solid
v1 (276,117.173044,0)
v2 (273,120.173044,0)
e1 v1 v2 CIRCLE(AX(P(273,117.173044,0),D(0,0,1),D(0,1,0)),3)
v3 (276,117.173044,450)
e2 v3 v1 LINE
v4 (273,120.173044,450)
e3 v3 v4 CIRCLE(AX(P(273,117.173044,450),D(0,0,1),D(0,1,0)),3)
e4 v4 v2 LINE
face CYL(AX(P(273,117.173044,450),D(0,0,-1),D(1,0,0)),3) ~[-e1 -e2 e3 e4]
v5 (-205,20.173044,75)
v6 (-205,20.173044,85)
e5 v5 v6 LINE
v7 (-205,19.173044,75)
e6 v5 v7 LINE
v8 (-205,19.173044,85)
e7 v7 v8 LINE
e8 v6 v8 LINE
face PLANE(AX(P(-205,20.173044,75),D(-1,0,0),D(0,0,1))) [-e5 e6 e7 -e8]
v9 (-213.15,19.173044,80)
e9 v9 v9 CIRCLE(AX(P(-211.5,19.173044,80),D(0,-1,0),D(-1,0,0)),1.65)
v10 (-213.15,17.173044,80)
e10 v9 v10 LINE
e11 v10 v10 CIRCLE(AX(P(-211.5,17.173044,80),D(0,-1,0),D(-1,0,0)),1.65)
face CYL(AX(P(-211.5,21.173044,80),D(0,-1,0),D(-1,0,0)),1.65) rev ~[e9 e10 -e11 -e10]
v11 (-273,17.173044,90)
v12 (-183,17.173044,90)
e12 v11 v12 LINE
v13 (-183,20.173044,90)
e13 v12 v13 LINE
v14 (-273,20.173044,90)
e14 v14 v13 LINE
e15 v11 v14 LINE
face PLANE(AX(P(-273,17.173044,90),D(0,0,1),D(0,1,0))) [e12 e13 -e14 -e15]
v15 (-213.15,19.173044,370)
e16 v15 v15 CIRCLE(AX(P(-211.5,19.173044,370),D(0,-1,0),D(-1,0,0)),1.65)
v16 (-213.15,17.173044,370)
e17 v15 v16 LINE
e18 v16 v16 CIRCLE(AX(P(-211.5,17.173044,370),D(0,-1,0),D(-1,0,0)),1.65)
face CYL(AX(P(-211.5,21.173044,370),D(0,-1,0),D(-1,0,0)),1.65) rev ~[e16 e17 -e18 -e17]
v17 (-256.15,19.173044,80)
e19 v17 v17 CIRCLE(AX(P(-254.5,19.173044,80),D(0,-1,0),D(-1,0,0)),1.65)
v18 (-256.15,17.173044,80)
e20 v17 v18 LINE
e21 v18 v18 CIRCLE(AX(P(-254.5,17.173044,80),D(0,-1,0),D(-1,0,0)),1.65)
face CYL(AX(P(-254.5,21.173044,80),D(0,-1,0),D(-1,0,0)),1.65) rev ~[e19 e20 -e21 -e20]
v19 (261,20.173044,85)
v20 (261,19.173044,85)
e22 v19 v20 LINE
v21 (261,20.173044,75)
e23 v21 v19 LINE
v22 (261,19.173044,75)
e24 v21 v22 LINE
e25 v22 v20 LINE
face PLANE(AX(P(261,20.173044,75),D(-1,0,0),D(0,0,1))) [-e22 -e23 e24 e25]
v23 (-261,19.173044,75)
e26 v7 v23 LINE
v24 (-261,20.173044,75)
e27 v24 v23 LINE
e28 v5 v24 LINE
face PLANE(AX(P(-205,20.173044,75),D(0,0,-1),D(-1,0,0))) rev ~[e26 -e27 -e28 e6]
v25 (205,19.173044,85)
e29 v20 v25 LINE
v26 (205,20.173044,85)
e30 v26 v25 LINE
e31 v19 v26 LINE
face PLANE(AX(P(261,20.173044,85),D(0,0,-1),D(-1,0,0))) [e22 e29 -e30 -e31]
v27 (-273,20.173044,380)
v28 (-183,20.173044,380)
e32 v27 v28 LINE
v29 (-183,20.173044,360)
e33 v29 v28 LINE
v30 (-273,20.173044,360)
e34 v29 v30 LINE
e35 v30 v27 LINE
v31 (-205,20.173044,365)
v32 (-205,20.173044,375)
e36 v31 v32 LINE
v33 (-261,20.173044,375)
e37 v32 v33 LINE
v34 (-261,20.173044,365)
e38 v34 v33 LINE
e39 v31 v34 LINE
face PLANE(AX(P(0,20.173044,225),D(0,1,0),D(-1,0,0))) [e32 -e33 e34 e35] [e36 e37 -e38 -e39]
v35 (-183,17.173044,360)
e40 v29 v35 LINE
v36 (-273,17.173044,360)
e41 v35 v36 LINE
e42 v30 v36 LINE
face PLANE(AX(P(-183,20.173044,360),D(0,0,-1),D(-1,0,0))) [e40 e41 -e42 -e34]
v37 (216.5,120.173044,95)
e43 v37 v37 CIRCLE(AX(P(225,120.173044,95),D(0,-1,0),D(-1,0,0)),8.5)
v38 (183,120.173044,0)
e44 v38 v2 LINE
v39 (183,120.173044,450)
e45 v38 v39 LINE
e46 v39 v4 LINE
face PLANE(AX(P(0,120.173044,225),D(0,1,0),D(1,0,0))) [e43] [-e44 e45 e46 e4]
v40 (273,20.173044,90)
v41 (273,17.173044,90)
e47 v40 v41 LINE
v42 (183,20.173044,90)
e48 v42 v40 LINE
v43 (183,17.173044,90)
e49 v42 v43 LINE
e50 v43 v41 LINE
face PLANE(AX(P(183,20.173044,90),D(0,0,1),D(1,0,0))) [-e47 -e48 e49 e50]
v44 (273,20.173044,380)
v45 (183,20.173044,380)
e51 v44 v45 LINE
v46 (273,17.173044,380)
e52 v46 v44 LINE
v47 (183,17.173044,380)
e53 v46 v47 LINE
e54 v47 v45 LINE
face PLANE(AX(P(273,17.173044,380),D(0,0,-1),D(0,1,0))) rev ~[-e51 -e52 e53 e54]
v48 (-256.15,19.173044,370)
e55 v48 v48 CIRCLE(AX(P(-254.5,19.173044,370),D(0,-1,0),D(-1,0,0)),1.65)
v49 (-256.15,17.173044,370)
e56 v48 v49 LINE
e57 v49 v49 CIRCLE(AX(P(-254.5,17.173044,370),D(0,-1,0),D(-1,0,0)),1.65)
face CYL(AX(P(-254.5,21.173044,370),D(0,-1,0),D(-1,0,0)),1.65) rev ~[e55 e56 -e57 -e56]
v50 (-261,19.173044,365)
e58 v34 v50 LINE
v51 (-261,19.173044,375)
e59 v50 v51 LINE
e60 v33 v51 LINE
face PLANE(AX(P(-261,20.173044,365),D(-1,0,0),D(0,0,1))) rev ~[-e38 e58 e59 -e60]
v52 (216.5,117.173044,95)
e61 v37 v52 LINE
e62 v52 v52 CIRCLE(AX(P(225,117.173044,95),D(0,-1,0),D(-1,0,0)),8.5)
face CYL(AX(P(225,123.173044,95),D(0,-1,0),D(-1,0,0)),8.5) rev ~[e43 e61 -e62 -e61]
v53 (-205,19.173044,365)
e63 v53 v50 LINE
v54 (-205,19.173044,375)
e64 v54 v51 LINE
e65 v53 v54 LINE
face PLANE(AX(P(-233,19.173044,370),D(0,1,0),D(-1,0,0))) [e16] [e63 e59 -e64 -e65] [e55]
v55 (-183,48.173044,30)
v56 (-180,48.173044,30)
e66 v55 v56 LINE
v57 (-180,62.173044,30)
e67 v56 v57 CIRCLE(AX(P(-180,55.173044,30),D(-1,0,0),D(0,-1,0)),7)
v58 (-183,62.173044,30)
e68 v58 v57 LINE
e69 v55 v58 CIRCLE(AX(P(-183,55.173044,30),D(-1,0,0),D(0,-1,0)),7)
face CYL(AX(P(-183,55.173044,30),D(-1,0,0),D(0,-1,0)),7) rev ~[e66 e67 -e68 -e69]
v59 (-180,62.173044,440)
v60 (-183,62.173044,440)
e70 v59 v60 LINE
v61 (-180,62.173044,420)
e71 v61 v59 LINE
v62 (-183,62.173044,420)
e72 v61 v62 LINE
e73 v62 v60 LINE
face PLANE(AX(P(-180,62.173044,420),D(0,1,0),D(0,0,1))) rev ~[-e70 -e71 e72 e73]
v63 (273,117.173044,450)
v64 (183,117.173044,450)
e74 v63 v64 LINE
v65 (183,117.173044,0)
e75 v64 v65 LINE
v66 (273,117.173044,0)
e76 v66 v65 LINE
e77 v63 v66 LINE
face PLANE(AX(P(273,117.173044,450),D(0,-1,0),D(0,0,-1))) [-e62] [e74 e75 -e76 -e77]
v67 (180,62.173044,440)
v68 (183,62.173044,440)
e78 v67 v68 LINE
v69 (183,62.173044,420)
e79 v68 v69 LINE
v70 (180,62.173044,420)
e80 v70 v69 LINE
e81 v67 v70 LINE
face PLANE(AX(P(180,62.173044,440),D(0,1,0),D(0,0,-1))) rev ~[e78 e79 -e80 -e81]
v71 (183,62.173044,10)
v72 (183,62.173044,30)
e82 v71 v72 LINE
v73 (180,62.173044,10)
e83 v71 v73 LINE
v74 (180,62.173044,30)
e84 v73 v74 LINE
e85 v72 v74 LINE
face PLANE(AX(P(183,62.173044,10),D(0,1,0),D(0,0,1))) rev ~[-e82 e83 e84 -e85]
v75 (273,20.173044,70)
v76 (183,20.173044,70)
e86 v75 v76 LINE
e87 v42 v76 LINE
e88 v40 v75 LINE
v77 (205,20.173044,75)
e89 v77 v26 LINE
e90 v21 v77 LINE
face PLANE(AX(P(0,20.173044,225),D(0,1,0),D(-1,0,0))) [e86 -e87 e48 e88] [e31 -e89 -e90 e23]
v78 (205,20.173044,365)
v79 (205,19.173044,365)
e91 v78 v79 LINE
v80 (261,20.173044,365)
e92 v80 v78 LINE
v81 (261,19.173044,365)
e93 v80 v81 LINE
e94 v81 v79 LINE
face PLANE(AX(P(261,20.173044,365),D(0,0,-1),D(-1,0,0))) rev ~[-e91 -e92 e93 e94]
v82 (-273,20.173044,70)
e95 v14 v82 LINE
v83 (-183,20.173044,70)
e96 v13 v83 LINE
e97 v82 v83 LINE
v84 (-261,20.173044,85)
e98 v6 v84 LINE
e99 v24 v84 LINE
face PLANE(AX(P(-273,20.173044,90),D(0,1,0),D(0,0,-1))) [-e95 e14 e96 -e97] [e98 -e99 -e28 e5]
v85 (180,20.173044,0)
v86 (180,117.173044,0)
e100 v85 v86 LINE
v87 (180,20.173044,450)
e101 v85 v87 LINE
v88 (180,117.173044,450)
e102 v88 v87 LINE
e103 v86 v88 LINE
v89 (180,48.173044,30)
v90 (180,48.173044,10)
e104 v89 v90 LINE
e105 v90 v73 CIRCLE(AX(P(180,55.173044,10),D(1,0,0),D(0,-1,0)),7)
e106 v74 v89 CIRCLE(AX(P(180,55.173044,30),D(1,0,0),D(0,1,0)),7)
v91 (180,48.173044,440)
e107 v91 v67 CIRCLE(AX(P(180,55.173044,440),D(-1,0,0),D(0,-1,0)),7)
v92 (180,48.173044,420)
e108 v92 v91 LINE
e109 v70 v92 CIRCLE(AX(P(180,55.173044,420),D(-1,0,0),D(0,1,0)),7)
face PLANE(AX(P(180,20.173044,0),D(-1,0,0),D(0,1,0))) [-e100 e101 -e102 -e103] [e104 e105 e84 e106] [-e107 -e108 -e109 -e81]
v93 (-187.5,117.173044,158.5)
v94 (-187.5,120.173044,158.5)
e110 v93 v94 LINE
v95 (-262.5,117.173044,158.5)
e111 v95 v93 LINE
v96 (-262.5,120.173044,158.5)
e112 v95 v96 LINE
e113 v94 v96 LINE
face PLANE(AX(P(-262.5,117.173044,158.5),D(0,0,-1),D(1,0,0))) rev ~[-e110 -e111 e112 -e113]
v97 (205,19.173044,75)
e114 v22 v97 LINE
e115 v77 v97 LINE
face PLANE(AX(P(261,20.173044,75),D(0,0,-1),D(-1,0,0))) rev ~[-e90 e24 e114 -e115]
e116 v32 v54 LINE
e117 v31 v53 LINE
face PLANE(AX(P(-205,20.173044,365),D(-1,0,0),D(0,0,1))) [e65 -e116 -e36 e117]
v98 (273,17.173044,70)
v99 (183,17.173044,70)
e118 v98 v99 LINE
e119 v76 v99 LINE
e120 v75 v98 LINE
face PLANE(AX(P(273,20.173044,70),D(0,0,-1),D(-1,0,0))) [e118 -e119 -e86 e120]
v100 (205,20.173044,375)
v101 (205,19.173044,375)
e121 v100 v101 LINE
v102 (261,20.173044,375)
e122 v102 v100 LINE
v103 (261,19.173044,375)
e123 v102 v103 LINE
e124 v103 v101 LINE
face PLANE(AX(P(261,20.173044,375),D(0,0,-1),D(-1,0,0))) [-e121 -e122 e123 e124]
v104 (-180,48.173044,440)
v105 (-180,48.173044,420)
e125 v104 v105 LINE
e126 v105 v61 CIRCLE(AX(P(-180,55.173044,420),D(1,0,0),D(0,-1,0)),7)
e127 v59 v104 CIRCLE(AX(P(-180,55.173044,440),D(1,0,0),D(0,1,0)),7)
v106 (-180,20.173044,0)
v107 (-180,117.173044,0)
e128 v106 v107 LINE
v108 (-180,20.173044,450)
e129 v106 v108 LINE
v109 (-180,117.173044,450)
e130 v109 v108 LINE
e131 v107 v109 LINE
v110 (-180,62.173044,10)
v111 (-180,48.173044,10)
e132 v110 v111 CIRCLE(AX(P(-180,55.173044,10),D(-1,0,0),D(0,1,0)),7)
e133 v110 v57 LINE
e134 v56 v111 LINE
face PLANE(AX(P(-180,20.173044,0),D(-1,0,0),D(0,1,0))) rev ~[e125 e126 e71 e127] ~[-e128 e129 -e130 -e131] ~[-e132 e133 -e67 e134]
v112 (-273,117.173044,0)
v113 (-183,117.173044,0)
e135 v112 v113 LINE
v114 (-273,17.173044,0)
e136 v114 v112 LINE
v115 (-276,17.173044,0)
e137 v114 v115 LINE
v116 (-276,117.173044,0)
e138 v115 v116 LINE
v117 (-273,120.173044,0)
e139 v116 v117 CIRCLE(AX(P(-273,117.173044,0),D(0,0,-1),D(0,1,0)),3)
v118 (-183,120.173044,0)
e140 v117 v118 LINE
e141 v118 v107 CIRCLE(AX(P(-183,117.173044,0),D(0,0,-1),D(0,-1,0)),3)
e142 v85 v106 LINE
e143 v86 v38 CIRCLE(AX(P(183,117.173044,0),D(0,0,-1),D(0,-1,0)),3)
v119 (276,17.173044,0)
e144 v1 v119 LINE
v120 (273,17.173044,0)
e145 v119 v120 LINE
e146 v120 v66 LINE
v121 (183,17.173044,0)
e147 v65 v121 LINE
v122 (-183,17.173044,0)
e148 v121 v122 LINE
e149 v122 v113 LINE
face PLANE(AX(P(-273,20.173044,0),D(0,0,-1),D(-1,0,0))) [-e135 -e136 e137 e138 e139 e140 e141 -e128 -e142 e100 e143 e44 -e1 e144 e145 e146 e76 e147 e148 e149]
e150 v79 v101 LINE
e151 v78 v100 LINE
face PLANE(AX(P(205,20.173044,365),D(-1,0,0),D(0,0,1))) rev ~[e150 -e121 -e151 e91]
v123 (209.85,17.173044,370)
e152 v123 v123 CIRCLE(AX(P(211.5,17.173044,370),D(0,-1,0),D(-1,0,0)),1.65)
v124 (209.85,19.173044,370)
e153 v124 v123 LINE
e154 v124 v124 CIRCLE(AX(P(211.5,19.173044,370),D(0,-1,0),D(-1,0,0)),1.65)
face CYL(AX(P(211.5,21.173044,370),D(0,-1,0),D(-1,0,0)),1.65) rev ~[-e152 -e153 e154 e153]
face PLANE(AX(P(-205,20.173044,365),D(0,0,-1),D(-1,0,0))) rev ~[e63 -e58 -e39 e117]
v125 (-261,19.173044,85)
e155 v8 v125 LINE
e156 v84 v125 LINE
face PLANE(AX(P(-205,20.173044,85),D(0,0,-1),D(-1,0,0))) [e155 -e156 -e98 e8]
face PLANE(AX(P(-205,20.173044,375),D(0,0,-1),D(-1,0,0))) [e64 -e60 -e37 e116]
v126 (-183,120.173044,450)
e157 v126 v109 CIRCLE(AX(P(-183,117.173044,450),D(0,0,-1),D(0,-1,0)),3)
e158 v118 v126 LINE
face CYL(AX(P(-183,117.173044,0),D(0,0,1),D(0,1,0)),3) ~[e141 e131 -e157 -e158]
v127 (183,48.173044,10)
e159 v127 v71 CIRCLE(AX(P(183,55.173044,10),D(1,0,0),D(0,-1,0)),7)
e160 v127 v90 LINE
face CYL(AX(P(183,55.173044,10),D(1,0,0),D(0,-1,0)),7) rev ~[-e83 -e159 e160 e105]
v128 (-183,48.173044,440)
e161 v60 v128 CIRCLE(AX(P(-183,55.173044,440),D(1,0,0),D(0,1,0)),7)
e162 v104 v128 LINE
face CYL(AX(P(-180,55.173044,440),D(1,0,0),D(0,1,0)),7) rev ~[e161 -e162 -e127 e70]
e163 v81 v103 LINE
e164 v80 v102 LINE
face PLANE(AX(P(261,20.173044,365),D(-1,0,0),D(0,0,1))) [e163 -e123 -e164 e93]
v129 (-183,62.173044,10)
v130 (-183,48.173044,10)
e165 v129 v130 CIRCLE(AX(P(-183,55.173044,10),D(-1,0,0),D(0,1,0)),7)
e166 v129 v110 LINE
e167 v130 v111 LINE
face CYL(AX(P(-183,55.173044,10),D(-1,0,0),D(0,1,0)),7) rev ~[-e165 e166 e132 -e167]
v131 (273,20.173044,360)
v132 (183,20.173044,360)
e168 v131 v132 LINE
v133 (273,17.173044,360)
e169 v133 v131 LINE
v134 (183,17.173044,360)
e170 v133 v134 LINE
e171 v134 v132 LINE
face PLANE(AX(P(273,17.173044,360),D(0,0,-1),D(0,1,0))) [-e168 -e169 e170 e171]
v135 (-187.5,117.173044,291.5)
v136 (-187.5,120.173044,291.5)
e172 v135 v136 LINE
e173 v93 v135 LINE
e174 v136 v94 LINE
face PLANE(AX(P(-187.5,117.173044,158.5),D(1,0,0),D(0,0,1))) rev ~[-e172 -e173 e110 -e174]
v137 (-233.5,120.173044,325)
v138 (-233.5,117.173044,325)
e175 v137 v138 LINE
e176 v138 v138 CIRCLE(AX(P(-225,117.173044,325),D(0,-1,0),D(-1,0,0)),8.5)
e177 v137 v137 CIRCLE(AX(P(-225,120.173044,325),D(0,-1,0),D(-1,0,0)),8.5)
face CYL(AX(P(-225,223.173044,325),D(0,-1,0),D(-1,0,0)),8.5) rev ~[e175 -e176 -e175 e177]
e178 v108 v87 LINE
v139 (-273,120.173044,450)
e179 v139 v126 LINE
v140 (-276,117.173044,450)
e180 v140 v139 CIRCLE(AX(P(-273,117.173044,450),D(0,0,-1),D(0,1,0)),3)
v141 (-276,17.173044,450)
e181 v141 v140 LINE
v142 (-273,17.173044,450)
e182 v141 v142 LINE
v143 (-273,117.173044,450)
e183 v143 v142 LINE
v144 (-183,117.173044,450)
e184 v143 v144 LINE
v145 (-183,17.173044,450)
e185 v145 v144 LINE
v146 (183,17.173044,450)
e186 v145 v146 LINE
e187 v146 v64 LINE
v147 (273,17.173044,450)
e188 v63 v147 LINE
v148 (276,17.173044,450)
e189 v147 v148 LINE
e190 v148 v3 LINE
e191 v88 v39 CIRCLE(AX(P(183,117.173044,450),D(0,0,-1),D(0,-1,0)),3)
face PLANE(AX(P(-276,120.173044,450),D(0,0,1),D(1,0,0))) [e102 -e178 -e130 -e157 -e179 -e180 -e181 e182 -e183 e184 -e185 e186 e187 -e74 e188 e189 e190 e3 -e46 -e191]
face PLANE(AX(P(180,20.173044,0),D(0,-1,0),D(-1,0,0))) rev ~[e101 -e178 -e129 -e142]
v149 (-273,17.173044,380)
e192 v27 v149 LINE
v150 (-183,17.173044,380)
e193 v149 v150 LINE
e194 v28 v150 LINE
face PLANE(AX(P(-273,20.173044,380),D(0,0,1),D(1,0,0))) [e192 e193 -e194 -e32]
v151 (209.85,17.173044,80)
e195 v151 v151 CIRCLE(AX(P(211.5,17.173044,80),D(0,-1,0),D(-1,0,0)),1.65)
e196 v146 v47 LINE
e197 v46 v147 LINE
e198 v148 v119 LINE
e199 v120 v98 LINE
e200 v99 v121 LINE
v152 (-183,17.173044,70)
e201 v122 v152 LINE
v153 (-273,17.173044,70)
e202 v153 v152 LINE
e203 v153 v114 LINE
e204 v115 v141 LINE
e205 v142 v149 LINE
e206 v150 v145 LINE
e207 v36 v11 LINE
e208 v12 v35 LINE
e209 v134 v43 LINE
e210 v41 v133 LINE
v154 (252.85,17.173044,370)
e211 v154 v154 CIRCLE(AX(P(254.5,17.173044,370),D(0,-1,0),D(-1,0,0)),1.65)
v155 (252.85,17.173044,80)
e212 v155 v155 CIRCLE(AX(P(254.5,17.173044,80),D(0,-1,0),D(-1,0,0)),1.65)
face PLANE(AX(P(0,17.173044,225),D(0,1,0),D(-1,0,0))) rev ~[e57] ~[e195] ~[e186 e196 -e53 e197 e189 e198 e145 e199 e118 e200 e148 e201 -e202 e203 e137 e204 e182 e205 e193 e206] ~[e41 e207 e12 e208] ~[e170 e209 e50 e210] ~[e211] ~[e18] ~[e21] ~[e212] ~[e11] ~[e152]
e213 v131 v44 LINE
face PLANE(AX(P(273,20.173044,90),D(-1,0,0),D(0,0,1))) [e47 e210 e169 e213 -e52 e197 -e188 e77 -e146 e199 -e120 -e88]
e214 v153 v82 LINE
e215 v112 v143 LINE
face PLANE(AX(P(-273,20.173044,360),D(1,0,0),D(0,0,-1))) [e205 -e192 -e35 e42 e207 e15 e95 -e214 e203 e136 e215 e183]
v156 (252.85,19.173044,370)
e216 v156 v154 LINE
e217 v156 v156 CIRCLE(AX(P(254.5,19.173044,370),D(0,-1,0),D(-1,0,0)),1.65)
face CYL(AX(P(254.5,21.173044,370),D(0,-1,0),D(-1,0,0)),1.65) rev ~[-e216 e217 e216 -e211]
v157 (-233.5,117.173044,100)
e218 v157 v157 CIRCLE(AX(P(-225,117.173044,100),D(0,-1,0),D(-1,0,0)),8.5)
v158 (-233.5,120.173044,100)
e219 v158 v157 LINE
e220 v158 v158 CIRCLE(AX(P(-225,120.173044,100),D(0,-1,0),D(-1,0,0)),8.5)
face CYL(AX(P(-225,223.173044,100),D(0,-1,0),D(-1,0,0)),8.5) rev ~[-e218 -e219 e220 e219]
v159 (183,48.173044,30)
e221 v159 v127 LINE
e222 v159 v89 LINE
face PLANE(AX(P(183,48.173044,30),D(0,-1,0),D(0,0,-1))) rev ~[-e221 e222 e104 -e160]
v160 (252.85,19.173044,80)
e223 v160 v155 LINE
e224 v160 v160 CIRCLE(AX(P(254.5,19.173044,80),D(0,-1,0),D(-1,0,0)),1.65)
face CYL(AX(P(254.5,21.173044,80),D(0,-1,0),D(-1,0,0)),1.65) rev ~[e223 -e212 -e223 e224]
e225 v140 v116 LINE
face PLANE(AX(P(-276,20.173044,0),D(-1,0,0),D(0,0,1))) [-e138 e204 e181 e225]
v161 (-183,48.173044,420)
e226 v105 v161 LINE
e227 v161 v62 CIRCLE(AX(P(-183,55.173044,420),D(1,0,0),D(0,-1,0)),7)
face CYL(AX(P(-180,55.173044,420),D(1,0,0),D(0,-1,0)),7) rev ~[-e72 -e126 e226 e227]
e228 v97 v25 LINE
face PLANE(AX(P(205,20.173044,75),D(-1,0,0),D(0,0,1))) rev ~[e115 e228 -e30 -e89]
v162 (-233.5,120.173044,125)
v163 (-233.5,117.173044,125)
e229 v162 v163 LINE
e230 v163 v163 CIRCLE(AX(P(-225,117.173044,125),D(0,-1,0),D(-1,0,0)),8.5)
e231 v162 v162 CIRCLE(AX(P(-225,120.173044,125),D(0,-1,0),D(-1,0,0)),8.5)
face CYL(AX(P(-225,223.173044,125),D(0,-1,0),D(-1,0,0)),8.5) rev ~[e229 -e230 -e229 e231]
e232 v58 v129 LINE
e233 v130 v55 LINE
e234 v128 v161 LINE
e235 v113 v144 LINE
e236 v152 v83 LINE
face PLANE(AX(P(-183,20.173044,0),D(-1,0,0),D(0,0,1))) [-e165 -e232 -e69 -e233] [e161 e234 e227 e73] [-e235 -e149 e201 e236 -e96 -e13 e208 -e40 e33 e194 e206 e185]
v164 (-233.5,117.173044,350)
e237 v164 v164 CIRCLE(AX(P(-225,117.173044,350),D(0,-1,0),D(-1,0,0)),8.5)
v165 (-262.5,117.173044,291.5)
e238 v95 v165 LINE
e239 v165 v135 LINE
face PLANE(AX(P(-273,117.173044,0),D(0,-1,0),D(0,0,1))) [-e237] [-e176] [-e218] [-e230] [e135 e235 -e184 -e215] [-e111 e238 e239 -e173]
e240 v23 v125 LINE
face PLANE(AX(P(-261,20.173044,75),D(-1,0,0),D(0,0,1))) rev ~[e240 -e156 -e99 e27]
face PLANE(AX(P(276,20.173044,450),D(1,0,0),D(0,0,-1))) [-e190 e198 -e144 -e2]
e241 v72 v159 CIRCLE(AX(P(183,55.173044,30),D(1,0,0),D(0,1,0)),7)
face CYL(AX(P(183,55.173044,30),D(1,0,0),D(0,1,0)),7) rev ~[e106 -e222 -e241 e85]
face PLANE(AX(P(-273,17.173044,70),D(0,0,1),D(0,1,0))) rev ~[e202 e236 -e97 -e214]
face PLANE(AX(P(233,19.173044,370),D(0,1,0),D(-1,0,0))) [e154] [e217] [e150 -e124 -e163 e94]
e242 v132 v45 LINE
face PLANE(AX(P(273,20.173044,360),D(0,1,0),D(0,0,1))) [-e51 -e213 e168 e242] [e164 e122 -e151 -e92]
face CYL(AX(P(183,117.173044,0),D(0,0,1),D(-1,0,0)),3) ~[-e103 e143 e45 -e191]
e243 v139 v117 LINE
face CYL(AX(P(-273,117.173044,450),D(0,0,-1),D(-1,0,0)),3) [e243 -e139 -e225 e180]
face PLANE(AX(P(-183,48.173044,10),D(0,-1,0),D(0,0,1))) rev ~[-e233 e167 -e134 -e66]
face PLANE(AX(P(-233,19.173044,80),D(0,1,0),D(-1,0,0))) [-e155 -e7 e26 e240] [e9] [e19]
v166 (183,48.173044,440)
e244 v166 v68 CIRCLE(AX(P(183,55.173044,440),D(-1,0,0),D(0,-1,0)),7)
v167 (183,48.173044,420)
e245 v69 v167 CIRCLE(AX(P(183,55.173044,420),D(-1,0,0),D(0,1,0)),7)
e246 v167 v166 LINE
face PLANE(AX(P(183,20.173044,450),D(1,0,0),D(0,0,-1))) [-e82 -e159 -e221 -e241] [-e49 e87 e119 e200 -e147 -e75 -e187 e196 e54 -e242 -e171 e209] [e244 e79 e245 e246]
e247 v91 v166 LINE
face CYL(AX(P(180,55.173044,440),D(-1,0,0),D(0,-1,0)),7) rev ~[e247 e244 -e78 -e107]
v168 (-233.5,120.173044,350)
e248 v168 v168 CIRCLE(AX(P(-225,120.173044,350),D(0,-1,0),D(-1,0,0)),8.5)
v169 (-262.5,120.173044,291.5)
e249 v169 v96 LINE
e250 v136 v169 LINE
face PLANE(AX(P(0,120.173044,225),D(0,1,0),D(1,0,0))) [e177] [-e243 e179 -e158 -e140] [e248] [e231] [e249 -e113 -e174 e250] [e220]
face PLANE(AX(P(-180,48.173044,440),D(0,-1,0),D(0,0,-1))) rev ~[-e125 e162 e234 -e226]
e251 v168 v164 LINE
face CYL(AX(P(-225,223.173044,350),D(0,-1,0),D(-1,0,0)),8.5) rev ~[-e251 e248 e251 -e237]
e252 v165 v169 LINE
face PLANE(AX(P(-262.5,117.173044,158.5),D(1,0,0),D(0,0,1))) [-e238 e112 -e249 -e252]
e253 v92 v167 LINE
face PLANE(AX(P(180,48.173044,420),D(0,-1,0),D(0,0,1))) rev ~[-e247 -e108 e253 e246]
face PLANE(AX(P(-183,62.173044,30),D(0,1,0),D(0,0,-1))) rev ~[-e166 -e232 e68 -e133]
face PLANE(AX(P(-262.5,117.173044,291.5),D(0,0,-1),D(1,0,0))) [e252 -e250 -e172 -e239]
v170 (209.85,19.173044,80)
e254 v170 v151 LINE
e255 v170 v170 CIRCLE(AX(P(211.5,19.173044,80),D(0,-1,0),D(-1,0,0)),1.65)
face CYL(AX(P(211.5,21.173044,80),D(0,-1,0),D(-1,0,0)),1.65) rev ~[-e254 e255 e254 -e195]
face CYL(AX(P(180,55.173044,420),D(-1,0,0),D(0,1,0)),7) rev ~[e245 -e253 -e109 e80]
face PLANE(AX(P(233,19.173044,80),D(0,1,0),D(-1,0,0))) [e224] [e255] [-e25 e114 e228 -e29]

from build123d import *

# Parameters (mm, degrees)
SKETCH1_W                      = 552
SKETCH1_H                      = 450
BOSS_EXTRUDE1_DEPTH            = 100
SKETCH2_W                      = 97
SKETCH2_H                      = 450
CUT_EXTRUDE1_DEPTH             = 90
SKETCH3_W                      = 450
SKETCH3_H                      = 97
CUT_EXTRUDE2_DEPTH             = 90
BOSS_EXTRUDE2_DEPTH            = 3
SKETCH5_W                      = 360
SKETCH5_H                      = 100
CUT_EXTRUDE3_DEPTH             = 542.403325206
SKETCH6_W                      = 20
SKETCH6_H                      = 3
BOSS_EXTRUDE3_DEPTH            = 90
SKETCH7_W                      = 20
SKETCH7_H                      = 3
BOSS_EXTRUDE4_DEPTH            = 90
CUT_EXTRUDE4_REACH             = 653.826
SKETCH9_W                      = 75
SKETCH9_H                      = 133
CUT_EXTRUDE5_DEPTH             = 538.285771261
CUT_EXTRUDE6_REACH             = 655.929
CUT_EXTRUDE7_REACH             = 653.826
CUT_EXTRUDE8_REACH             = 655.929
SKETCH13_W                     = 56
SKETCH13_H                     = 10
CUT_EXTRUDE9_DEPTH             = 1
SKETCH14_W                     = 56
SKETCH14_H                     = 10
CUT_EXTRUDE10_DEPTH            = 1
SKETCH15_W                     = 56
SKETCH15_H                     = 10
CUT_EXTRUDE11_DEPTH            = 1
SKETCH16_W                     = 56
SKETCH16_H                     = 10
CUT_EXTRUDE12_DEPTH            = 1
F_3_3_3_3_DIAMETER_HOLE1_D     = 3.3
F_3_3_3_3_DIAMETER_HOLE1_DEPTH = 2
F_17_0_17_DIAMETER_HOLE1_D     = 17
F_17_0_17_DIAMETER_HOLE1_DEPTH = 3
F_17_0_17_DIAMETER_HOLE2_D     = 17
F_17_0_17_DIAMETER_HOLE2_DEPTH = 103
FILLET1_R                      = 3


with BuildPart() as part:
    # Sketch1 → Boss-Extrude1 (new body)
    with BuildSketch(Plane(origin=(0, 120.173044165, 0), x_dir=(1, 0, 0), z_dir=(0, 1, 0))):
        with Locations((0, -225)):
            Rectangle(SKETCH1_W, SKETCH1_H)
    extrude(amount=-BOSS_EXTRUDE1_DEPTH)

    # Sketch2 → Cut-Extrude1 (cut)
    with BuildSketch(Plane(origin=(-273, 0, 0), x_dir=(0, -1, 0), z_dir=(-1, 0, 0))):
        with Locations((-68.673044165, 225)):
            Rectangle(SKETCH2_W, SKETCH2_H)
    extrude(amount=-CUT_EXTRUDE1_DEPTH, mode=Mode.SUBTRACT)

    # Sketch3 → Cut-Extrude2 (cut)
    with BuildSketch(Plane(origin=(273, 0, 0), x_dir=(0, 0, -1), z_dir=(1, 0, 0))):
        with Locations((-225, 68.673044165)):
            Rectangle(SKETCH3_W, SKETCH3_H)
    extrude(amount=-CUT_EXTRUDE2_DEPTH, mode=Mode.SUBTRACT)

    # Sketch4 → Boss-Extrude2 (add)
    with BuildSketch(Plane.XZ.offset(-20.173044165)):
        Polygon((-273, 360), (-273, 0), (-276, 0), (-276, 450), (-273, 450), (-273, 380), (-183, 380), (-183, 450), (183, 450), (183, 90), (273, 90), (273, 450), (276, 450), (276, 0), (273, 0), (273, 70), (183, 70), (183, 0), (-183, 0), (-183, 360), align=None)
    extrude(amount=BOSS_EXTRUDE2_DEPTH)

    # Sketch5 → Cut-Extrude3 (cut, through all)
    with BuildSketch(Plane(origin=(0, 0, 0), x_dir=(-1, 0, 0), z_dir=(0, 0, -1))):
        with Locations((0, 70.173044165)):
            Rectangle(SKETCH5_W, SKETCH5_H)
    extrude(amount=-CUT_EXTRUDE3_DEPTH, mode=Mode.SUBTRACT)

    # Sketch6 → Boss-Extrude3 (add)
    with BuildSketch(Plane(origin=(-273, 0, 0), x_dir=(0, 0, -1), z_dir=(1, 0, 0))):
        with Locations((-80, 18.673044165)):
            Rectangle(SKETCH6_W, SKETCH6_H)
    extrude(amount=BOSS_EXTRUDE3_DEPTH)

    # Sketch7 → Boss-Extrude4 (add)
    with BuildSketch(Plane.ZY.offset(-273)):
        with Locations((370, 18.673044165)):
            Rectangle(SKETCH7_W, SKETCH7_H)
    extrude(amount=BOSS_EXTRUDE4_DEPTH)

    # Sketch8 → Cut-Extrude4 (cut, up to next)
    with BuildSketch(Plane(origin=(-180, 0, 0), x_dir=(0, 0, -1), z_dir=(1, 0, 0)), mode=Mode.PRIVATE) as cut_extrude4_sk1:
        with BuildLine():
            Line((-440, 48.173044165), (-420, 48.173044165))
            ThreePointArc((-420, 48.173044165), (-413, 55.173044165), (-420, 62.173044165))
            Line((-420, 62.173044165), (-440, 62.173044165))
            ThreePointArc((-440, 62.173044165), (-447, 55.173044165), (-440, 48.173044165))
        make_face()
    cut_extrude4_tool1 = extrude(cut_extrude4_sk1.sketch, amount=-CUT_EXTRUDE4_REACH, mode=Mode.PRIVATE) & part.part
    add(cut_extrude4_tool1.solids().sort_by_distance((-180, 55.173044, 430))[0], mode=Mode.SUBTRACT)

    # Sketch9 → Cut-Extrude5 (cut, through all)
    with BuildSketch(Plane.XZ.offset(-117.173044165)):
        with Locations((-225, 225)):
            Rectangle(SKETCH9_W, SKETCH9_H)
    extrude(amount=-CUT_EXTRUDE5_DEPTH, mode=Mode.SUBTRACT)

    # Sketch10 → Cut-Extrude6 (cut, up to next)
    with BuildSketch(Plane.ZY.offset(183), mode=Mode.PRIVATE) as cut_extrude6_sk1:
        with BuildLine():
            Line((10, 48.173044165), (30, 48.173044165))
            ThreePointArc((30, 48.173044165), (37, 55.173044165), (30, 62.173044165))
            Line((30, 62.173044165), (10, 62.173044165))
            ThreePointArc((10, 62.173044165), (3, 55.173044165), (10, 48.173044165))
        make_face()
    cut_extrude6_tool1 = extrude(cut_extrude6_sk1.sketch, amount=-CUT_EXTRUDE6_REACH, mode=Mode.PRIVATE) & part.part
    add(cut_extrude6_tool1.solids().sort_by_distance((-183, 55.173044, 20))[0], mode=Mode.SUBTRACT)

    # Sketch11 → Cut-Extrude7 (cut, up to next)
    with BuildSketch(Plane.ZY.offset(-180), mode=Mode.PRIVATE) as cut_extrude7_sk1:
        with BuildLine():
            Line((440, 62.173044165), (420, 62.173044165))
            ThreePointArc((420, 62.173044165), (413, 55.173044165), (420, 48.173044165))
            Line((420, 48.173044165), (440, 48.173044165))
            ThreePointArc((440, 48.173044165), (447, 55.173044165), (440, 62.173044165))
        make_face()
    cut_extrude7_tool1 = extrude(cut_extrude7_sk1.sketch, amount=-CUT_EXTRUDE7_REACH, mode=Mode.PRIVATE) & part.part
    add(cut_extrude7_tool1.solids().sort_by_distance((180, 55.173044, 430))[0], mode=Mode.SUBTRACT)

    # Sketch12 → Cut-Extrude8 (cut, up to next)
    with BuildSketch(Plane(origin=(183, 0, 0), x_dir=(0, 0, -1), z_dir=(1, 0, 0)), mode=Mode.PRIVATE) as cut_extrude8_sk1:
        with BuildLine():
            Line((-10, 62.173044165), (-30, 62.173044165))
            ThreePointArc((-30, 62.173044165), (-37, 55.173044165), (-30, 48.173044165))
            Line((-30, 48.173044165), (-10, 48.173044165))
            ThreePointArc((-10, 48.173044165), (-3, 55.173044165), (-10, 62.173044165))
        make_face()
    cut_extrude8_tool1 = extrude(cut_extrude8_sk1.sketch, amount=-CUT_EXTRUDE8_REACH, mode=Mode.PRIVATE) & part.part
    add(cut_extrude8_tool1.solids().sort_by_distance((183, 55.173044, 20))[0], mode=Mode.SUBTRACT)

    # Sketch13 → Cut-Extrude9 (cut)
    with BuildSketch(Plane(origin=(0, 20.173044165, 0), x_dir=(-1, 0, 0), z_dir=(0, 1, 0))):
        with Locations((233, 80)):
            Rectangle(SKETCH13_W, SKETCH13_H)
    extrude(amount=-CUT_EXTRUDE9_DEPTH, mode=Mode.SUBTRACT)

    # Sketch14 → Cut-Extrude10 (cut)
    with BuildSketch(Plane(origin=(0, 20.173044165, 0), x_dir=(-1, 0, 0), z_dir=(0, 1, 0))):
        with Locations((233, 370)):
            Rectangle(SKETCH14_W, SKETCH14_H)
    extrude(amount=-CUT_EXTRUDE10_DEPTH, mode=Mode.SUBTRACT)

    # Sketch15 → Cut-Extrude11 (cut)
    with BuildSketch(Plane(origin=(0, 20.173044165, 0), x_dir=(-1, 0, 0), z_dir=(0, 1, 0))):
        with Locations((-233, 370)):
            Rectangle(SKETCH15_W, SKETCH15_H)
    extrude(amount=-CUT_EXTRUDE11_DEPTH, mode=Mode.SUBTRACT)

    # Sketch16 → Cut-Extrude12 (cut)
    with BuildSketch(Plane(origin=(0, 20.173044165, 0), x_dir=(-1, 0, 0), z_dir=(0, 1, 0))):
        with Locations((-233, 80)):
            Rectangle(SKETCH16_W, SKETCH16_H)
    extrude(amount=-CUT_EXTRUDE12_DEPTH, mode=Mode.SUBTRACT)

    # Ø3.3 (3.3) Diameter Hole1
    with Locations(Plane(origin=(0, 19.173044165, 0), x_dir=(1, 0, 0), z_dir=(0, 1, 0))):
        with Locations((-254.5, -80), (-211.5, -80), (-254.5, -370), (-211.5, -370), (211.5, -370), (254.5, -370), (211.5, -80), (254.5, -80)):
            Hole(F_3_3_3_3_DIAMETER_HOLE1_D / 2, depth=F_3_3_3_3_DIAMETER_HOLE1_DEPTH)

    # Ø17.0 (17) Diameter Hole1
    with Locations(Plane(origin=(0, 120.173044165, 0), x_dir=(1, 0, 0), z_dir=(0, 1, 0))):
        with Locations((225, -95)):
            Hole(F_17_0_17_DIAMETER_HOLE1_D / 2, depth=F_17_0_17_DIAMETER_HOLE1_DEPTH)

    # Ø17.0 (17) Diameter Hole2
    with Locations(Plane(origin=(0, 120.173044165, 0), x_dir=(1, 0, 0), z_dir=(0, 1, 0))):
        with Locations((-225, -100), (-225, -125), (-225, -325), (-225, -350)):
            Hole(F_17_0_17_DIAMETER_HOLE2_D / 2, depth=F_17_0_17_DIAMETER_HOLE2_DEPTH)

    # Fillet1
    fillet1_edges = [part.edges().sort_by_distance(p)[0] for p in [
        (-180, 120.173044165, 225),
        (180, 120.173044165, 225),
        (276, 120.173044165, 225),
        (-276, 120.173044165, 225),
    ]]
    fillet(fillet1_edges, radius=FILLET1_R)


solid = part.part
